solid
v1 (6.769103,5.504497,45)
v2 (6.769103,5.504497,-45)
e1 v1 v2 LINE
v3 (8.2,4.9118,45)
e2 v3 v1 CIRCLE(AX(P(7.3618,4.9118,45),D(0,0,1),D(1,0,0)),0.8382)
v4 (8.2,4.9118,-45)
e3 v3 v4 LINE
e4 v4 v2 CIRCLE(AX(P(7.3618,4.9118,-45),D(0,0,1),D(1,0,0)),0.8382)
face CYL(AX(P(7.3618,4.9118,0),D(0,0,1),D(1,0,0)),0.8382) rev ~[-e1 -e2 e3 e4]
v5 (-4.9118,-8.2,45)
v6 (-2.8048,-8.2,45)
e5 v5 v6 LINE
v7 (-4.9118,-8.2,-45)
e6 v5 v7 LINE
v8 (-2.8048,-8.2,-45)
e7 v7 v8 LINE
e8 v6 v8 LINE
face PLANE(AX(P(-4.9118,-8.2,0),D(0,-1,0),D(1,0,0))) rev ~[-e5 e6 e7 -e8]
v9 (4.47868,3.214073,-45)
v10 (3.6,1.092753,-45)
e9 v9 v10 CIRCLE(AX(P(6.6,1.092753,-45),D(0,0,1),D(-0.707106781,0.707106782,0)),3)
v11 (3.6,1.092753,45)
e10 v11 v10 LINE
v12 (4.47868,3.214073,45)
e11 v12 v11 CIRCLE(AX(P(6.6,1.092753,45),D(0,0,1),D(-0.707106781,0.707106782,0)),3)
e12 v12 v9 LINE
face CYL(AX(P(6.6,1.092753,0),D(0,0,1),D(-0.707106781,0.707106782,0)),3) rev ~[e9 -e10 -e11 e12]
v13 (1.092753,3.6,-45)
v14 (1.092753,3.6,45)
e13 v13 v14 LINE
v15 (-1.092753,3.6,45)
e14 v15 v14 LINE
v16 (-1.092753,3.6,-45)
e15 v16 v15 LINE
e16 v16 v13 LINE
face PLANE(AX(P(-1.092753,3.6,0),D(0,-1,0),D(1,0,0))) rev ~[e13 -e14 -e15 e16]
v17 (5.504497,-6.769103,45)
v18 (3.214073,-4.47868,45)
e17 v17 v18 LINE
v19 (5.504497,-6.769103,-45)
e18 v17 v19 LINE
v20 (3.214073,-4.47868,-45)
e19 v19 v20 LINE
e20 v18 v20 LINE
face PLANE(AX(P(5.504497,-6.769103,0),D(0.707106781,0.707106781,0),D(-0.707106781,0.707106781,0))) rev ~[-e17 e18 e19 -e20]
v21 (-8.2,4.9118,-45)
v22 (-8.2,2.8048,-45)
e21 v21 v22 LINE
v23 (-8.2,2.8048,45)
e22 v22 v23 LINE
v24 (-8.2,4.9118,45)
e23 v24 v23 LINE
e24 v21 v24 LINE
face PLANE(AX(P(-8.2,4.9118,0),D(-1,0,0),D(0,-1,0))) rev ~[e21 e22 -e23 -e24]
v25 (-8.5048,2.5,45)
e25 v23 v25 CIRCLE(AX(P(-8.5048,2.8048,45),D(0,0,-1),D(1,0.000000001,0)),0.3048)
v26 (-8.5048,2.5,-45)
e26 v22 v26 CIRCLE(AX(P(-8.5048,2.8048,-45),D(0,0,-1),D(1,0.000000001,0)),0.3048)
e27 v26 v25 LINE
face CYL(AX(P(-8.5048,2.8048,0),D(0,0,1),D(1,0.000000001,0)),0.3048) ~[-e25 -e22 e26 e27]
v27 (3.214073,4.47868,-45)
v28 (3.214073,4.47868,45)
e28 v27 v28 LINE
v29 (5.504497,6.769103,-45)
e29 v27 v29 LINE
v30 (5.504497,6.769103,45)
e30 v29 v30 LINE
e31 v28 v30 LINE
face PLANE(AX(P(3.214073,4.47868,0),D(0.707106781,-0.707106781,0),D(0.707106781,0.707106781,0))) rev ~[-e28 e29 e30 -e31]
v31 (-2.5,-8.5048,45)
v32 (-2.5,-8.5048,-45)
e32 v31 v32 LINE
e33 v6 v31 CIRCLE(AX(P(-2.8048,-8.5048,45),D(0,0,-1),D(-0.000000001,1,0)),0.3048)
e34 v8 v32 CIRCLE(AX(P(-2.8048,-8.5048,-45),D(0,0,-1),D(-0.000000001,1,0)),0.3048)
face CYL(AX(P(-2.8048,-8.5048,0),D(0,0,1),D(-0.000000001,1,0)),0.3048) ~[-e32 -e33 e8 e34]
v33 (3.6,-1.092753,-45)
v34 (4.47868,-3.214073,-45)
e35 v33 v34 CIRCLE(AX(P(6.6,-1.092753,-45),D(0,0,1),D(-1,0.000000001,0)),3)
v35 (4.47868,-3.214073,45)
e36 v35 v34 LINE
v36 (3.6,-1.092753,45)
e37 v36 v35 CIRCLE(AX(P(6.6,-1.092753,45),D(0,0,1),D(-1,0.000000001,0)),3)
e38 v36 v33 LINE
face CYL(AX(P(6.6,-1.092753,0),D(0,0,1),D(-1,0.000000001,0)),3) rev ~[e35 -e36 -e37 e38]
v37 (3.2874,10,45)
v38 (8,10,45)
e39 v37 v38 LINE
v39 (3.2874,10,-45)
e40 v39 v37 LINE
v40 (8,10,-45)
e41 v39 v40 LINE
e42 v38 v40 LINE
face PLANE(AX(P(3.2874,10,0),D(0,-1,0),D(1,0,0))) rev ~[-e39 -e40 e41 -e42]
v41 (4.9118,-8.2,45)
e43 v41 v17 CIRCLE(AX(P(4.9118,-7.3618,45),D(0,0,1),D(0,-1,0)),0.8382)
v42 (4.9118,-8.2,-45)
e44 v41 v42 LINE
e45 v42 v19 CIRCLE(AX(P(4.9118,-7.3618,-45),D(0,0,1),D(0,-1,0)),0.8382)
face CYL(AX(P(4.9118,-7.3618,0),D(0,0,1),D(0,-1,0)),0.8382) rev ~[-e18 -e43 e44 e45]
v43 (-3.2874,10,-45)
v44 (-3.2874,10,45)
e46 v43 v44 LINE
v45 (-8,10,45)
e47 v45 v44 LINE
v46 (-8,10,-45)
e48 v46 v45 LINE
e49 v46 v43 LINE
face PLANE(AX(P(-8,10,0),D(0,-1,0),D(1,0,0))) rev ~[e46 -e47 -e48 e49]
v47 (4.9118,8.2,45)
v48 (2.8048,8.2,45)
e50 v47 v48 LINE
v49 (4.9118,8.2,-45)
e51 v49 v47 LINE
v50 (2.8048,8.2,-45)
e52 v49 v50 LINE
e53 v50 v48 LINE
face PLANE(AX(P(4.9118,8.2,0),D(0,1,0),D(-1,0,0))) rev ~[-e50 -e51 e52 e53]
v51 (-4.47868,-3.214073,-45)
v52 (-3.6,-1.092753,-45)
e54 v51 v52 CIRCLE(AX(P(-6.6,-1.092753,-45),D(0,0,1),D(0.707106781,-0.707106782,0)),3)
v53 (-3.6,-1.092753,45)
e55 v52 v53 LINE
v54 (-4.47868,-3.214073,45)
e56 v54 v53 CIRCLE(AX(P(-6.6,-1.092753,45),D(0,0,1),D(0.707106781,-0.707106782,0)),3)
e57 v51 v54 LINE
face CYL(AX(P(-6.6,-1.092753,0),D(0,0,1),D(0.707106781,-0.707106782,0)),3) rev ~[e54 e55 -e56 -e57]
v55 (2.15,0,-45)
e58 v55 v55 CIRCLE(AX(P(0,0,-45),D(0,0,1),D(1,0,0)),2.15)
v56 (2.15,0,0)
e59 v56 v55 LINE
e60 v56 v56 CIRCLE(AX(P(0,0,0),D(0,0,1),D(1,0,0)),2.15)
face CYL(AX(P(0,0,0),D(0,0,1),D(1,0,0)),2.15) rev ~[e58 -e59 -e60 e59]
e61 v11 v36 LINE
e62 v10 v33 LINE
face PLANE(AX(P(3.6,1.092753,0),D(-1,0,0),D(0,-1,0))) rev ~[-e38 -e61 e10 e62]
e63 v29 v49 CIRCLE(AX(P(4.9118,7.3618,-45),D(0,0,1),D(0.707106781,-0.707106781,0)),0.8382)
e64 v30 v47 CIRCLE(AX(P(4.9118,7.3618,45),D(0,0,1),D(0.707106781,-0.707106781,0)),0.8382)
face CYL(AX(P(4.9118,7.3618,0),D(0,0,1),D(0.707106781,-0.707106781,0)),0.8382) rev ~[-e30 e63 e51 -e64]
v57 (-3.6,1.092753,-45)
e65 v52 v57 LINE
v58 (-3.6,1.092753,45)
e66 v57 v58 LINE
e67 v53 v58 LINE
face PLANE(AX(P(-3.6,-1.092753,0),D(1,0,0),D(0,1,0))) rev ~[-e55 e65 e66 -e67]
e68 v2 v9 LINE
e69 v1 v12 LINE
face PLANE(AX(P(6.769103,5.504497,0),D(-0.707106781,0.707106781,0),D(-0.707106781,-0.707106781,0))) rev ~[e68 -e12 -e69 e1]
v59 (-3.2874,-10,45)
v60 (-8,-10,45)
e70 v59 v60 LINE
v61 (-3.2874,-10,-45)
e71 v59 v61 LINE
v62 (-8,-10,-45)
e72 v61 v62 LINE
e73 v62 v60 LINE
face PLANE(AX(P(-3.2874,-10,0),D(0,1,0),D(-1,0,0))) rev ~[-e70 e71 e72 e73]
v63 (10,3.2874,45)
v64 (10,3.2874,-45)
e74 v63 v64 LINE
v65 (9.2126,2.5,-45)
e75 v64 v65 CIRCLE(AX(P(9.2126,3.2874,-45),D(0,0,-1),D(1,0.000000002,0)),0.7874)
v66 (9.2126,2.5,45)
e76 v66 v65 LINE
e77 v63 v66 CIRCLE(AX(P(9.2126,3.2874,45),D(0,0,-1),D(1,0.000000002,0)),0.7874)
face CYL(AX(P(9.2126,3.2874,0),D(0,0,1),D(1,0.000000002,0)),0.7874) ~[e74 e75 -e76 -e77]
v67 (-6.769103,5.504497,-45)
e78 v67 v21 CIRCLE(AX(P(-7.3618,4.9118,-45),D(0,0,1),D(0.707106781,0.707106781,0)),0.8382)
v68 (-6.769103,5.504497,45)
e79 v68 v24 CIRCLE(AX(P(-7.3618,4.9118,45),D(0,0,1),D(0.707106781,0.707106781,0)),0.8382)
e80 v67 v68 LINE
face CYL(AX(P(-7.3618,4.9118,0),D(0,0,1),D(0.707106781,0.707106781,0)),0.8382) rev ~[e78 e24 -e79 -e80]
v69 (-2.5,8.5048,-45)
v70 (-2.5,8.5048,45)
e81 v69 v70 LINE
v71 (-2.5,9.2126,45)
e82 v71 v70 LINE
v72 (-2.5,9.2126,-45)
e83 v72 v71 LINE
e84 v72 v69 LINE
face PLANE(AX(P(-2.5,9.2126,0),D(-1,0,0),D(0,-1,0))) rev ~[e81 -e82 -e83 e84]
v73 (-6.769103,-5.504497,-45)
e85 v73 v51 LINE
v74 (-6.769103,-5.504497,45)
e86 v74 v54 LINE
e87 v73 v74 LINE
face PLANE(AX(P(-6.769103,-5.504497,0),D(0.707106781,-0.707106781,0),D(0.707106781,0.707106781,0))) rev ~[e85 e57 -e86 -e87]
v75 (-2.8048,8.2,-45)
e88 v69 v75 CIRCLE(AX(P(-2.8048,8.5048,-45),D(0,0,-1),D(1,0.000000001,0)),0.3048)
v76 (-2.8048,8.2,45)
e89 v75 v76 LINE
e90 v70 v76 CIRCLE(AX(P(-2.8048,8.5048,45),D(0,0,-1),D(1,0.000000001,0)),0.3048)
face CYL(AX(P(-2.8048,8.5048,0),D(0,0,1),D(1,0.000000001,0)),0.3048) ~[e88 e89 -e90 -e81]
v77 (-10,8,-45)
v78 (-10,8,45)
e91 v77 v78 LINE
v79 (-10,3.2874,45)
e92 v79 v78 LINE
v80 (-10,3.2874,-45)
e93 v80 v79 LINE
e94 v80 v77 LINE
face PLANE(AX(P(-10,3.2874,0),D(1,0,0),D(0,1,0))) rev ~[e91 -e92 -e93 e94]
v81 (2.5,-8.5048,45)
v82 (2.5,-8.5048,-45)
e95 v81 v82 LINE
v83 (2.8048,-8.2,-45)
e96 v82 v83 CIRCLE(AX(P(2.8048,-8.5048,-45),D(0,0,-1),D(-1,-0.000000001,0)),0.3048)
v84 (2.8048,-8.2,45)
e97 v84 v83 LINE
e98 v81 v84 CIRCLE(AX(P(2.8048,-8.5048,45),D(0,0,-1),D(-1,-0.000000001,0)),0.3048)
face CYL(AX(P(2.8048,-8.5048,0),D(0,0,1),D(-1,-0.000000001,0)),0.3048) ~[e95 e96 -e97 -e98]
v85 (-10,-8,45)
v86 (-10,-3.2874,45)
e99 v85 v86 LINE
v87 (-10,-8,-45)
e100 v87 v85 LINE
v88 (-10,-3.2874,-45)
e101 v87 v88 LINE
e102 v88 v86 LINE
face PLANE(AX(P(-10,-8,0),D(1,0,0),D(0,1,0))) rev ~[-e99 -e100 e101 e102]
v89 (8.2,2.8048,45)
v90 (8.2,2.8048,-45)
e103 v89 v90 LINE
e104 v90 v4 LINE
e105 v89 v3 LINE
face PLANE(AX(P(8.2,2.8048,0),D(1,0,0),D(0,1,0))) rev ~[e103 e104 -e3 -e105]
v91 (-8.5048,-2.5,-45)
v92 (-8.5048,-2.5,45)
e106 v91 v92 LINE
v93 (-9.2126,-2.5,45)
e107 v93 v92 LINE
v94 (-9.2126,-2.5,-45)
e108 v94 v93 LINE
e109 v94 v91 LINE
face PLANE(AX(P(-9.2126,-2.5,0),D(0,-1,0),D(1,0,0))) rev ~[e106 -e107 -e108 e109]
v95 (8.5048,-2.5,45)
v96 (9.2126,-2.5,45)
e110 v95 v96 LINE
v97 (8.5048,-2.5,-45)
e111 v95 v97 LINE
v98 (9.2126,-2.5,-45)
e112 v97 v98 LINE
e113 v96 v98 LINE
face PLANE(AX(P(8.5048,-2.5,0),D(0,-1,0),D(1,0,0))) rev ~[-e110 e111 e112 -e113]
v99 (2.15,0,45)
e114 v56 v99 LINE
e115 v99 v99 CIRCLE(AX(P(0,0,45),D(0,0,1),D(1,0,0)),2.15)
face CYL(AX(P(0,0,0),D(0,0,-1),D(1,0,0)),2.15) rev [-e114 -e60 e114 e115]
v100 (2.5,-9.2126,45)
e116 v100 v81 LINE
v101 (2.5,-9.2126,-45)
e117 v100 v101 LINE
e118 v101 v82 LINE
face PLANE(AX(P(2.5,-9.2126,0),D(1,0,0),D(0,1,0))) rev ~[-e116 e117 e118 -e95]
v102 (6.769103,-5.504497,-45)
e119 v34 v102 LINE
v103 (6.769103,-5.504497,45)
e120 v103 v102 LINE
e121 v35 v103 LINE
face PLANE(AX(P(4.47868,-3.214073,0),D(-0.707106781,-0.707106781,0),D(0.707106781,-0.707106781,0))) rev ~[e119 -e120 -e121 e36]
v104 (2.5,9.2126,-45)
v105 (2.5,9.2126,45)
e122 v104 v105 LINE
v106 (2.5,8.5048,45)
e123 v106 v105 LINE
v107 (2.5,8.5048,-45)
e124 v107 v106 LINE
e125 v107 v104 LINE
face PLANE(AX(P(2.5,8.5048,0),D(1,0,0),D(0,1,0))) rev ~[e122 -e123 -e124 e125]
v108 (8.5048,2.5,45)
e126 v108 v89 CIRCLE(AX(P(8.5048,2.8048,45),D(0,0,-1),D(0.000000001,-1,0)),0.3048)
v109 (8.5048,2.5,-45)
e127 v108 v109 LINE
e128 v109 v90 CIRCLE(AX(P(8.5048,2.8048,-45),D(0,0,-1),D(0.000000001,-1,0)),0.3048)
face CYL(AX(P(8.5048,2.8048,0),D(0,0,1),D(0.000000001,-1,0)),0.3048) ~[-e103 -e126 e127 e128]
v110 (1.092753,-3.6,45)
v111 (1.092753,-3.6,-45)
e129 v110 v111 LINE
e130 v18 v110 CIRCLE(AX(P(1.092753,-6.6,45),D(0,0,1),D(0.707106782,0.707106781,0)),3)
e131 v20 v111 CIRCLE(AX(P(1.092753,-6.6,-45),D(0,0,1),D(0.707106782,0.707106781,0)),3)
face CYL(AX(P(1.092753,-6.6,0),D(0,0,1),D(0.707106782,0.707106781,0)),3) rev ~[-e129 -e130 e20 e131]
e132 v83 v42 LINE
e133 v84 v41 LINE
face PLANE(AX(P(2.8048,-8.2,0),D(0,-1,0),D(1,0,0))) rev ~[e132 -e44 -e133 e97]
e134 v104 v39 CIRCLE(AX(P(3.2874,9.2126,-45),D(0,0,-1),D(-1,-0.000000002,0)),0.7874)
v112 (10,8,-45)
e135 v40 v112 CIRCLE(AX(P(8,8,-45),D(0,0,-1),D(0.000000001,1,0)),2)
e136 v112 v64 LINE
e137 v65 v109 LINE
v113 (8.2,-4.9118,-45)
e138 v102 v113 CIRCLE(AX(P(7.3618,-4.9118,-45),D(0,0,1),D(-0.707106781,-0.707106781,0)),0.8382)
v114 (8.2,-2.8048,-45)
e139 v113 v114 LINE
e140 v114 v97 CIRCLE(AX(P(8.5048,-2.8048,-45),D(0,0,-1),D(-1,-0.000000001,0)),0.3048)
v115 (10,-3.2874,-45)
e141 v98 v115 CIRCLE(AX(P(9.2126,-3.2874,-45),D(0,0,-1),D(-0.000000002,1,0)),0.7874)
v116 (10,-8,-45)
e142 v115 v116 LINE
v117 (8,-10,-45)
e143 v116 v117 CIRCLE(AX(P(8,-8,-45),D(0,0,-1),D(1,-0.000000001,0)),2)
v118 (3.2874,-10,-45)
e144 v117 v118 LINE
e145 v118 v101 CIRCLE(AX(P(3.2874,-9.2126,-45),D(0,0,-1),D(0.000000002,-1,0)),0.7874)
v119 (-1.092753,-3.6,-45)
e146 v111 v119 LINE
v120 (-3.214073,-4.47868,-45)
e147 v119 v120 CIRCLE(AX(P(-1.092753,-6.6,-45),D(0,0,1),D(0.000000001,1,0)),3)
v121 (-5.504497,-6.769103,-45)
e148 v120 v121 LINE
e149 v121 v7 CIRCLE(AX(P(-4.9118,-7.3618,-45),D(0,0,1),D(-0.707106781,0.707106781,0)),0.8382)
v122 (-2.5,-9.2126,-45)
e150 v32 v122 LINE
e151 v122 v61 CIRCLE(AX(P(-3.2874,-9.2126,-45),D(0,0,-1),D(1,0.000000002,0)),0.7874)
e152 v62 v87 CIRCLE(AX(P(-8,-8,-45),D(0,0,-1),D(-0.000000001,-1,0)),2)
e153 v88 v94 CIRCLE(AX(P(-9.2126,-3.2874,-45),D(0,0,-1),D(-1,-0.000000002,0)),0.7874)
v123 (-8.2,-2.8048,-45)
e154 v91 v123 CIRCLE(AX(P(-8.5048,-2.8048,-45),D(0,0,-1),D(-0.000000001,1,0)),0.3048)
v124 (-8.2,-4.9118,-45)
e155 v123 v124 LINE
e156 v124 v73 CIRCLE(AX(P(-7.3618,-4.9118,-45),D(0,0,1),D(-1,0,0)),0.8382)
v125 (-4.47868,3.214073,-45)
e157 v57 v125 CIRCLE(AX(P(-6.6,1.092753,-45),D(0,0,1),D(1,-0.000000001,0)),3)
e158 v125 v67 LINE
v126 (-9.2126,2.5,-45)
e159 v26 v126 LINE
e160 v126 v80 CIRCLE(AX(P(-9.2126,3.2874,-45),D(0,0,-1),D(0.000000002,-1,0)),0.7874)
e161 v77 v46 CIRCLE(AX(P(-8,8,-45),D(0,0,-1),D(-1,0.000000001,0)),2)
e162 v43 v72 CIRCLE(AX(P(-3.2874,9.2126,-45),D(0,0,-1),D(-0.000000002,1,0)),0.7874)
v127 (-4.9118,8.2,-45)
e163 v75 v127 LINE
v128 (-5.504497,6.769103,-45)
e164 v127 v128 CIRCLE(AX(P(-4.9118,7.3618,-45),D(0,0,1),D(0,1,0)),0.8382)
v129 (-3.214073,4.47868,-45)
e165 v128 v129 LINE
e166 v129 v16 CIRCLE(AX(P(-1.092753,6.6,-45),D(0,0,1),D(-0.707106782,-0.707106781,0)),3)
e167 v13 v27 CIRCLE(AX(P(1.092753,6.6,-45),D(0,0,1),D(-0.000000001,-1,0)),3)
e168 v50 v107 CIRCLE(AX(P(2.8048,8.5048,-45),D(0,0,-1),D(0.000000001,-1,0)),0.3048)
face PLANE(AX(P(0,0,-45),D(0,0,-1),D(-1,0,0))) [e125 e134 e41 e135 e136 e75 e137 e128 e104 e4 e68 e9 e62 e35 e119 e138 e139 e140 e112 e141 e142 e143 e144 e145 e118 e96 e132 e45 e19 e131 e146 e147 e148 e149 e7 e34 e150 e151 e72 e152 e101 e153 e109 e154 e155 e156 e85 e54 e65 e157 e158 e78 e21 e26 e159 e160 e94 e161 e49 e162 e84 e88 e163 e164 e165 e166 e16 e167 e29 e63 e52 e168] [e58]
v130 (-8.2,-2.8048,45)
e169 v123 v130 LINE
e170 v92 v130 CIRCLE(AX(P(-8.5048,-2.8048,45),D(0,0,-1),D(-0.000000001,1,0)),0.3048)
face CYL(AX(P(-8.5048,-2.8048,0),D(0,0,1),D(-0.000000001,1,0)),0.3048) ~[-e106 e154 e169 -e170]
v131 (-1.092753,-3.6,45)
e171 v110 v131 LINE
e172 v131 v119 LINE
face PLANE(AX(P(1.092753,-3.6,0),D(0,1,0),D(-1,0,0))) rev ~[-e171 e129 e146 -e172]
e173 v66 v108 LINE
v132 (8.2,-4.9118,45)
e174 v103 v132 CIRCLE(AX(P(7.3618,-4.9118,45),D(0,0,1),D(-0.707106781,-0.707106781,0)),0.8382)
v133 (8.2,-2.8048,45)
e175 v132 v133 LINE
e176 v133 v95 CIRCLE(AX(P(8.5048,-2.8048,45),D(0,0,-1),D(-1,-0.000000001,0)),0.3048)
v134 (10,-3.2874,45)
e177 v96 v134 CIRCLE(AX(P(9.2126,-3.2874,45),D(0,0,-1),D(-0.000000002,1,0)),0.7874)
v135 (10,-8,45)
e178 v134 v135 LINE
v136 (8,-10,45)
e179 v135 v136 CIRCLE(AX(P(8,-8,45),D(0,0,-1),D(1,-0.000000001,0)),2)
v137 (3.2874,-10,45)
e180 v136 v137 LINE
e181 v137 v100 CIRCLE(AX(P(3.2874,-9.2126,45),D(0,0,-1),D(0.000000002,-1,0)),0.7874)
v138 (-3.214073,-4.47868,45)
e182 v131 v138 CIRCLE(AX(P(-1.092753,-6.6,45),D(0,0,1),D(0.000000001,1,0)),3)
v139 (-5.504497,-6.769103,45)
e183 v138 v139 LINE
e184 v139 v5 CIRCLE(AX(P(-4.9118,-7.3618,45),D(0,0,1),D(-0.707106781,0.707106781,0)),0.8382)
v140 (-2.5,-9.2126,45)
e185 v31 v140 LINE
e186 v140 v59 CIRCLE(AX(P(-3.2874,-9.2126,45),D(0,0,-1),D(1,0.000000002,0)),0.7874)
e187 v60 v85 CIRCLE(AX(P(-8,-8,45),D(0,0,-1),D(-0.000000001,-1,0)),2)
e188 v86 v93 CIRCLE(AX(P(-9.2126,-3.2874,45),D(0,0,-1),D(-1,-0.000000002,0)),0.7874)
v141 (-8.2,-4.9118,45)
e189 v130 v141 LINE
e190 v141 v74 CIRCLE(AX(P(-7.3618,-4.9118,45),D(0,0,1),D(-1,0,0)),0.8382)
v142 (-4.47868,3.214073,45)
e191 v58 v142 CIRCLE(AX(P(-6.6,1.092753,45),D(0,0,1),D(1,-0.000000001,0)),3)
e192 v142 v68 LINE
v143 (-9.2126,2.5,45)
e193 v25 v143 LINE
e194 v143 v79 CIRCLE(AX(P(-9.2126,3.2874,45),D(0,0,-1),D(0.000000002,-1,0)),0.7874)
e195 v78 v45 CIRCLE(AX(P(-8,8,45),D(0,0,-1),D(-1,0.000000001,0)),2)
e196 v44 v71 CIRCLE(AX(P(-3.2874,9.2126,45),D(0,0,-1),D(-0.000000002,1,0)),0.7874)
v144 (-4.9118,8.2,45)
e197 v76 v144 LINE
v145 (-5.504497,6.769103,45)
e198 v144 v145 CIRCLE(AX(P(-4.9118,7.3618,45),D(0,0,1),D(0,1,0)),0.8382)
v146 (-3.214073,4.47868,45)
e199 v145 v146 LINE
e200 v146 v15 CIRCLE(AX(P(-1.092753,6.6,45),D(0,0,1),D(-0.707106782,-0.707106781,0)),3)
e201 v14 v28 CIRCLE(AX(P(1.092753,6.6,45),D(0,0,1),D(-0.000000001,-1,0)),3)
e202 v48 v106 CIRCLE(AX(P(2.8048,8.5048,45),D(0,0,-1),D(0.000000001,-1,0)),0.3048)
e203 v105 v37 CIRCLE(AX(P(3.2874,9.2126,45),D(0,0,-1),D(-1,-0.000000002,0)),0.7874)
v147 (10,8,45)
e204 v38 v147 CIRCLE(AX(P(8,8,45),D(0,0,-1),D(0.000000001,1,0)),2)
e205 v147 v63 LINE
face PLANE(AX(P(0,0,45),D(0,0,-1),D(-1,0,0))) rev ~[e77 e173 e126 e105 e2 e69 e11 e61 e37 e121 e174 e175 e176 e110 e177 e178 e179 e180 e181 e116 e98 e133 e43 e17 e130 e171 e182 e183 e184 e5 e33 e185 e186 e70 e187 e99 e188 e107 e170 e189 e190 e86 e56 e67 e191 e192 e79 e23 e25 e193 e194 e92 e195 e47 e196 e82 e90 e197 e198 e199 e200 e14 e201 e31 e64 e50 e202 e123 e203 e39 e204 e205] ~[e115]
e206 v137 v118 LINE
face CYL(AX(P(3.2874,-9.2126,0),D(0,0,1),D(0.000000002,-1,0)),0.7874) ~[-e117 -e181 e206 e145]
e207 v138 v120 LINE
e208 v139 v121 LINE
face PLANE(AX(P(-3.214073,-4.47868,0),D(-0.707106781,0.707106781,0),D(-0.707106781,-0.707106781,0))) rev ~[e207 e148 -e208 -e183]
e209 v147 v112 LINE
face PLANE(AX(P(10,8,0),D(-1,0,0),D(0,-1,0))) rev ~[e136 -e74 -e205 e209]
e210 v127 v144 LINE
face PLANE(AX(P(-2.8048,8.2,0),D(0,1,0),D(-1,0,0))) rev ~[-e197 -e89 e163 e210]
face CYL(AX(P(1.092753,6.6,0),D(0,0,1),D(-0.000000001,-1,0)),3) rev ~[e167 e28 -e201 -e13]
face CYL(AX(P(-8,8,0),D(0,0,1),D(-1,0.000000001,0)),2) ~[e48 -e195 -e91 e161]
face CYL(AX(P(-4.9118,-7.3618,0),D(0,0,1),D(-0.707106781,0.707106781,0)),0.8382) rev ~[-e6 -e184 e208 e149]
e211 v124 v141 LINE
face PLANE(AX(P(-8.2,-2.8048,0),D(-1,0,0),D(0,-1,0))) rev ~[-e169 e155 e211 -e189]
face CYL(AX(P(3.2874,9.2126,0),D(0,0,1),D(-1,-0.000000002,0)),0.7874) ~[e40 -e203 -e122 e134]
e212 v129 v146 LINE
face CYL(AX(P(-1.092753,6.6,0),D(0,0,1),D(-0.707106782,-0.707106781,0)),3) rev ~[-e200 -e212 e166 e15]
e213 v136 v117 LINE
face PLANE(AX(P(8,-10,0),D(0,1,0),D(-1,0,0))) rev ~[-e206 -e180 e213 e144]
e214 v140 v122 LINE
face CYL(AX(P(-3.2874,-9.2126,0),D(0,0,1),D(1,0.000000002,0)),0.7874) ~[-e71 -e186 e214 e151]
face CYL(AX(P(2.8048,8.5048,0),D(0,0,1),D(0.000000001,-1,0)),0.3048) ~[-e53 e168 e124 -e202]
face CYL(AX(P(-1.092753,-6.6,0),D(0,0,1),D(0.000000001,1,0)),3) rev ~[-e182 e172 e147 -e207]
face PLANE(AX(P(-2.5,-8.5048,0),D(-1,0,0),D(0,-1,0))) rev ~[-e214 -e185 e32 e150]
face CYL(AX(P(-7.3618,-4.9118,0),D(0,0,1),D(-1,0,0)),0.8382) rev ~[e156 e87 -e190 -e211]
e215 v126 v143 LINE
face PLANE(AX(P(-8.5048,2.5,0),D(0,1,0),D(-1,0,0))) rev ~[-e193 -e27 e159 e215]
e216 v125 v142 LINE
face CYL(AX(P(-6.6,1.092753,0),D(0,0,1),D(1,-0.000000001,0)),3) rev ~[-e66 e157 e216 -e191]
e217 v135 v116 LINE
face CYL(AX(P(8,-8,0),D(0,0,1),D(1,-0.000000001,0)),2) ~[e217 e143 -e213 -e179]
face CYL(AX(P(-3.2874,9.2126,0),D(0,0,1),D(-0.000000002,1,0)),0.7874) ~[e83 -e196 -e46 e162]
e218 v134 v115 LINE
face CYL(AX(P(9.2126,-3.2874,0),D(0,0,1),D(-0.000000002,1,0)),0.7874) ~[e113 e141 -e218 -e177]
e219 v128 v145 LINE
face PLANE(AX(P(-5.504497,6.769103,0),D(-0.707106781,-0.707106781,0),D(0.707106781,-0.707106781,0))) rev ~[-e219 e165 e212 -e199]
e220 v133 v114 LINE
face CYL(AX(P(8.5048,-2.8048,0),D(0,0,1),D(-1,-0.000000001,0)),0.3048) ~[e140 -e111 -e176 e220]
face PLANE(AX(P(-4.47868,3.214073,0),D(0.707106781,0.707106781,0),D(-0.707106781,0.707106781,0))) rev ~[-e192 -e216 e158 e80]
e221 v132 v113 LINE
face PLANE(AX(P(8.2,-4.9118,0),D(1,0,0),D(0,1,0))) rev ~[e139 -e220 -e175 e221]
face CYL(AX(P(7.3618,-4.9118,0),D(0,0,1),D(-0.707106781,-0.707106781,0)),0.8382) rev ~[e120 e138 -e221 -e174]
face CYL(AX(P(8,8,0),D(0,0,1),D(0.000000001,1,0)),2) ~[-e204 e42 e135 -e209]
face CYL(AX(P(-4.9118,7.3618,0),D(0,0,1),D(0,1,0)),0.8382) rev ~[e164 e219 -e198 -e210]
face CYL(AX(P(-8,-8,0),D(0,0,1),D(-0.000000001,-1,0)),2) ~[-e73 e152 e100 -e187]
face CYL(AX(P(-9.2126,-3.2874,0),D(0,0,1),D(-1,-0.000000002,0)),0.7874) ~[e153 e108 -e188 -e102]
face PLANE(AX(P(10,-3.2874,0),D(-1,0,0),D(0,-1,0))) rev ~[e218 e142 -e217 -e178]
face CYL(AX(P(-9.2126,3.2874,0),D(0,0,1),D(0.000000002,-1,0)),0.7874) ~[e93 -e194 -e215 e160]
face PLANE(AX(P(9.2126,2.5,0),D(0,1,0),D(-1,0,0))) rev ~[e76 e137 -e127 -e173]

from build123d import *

# Parameters (mm, degrees)
SKETCH3_R                = 2.15
BOSS_EXTRUDE1_DEPTH      = 45
BOSS_EXTRUDE1_DEPTH_BACK = 45


with BuildPart() as part:
    # Sketch3 → Boss-Extrude1 (new body, two sides)
    with BuildSketch(Plane.XY) as boss_extrude1_sk:
        with BuildLine():
            Line((3.2874, 10), (8, 10))
            ThreePointArc((8, 10), (9.414213562, 9.414213562), (10, 8))
            Line((10, 8), (10, 3.2874))
            ThreePointArc((10, 3.2874), (9.76937588, 2.73062412), (9.2126, 2.5))
            Line((9.2126, 2.5), (8.5048, 2.5))
            ThreePointArc((8.5048, 2.5), (8.289273853, 2.589273853), (8.2, 2.8048))
            Line((8.2, 2.8048), (8.2, 4.9118))
            ThreePointArc((8.2, 4.9118), (7.682565253, 5.686195824), (6.769103096, 5.504496904))
            Line((6.769103096, 5.504496904), (4.478679656, 3.214073464))
            ThreePointArc((4.478679656, 3.214073464), (3.828361402, 2.240803418), (3.6, 1.092753121))
            Line((3.6, 1.092753121), (3.6, -1.092753121))
            ThreePointArc((3.6, -1.092753121), (3.828361402, -2.240803418), (4.478679656, -3.214073464))
            Line((4.478679656, -3.214073464), (6.769103096, -5.504496904))
            ThreePointArc((6.769103096, -5.504496904), (7.682565253, -5.686195824), (8.2, -4.9118))
            Line((8.2, -4.9118), (8.2, -2.8048))
            ThreePointArc((8.2, -2.8048), (8.289273853, -2.589273853), (8.5048, -2.5))
            Line((8.5048, -2.5), (9.2126, -2.5))
            ThreePointArc((9.2126, -2.5), (9.76937588, -2.73062412), (10, -3.2874))
            Line((10, -3.2874), (10, -8))
            ThreePointArc((10, -8), (9.414213562, -9.414213562), (8, -10))
            Line((8, -10), (3.2874, -10))
            ThreePointArc((3.2874, -10), (2.73062412, -9.76937588), (2.5, -9.2126))
            Line((2.5, -9.2126), (2.5, -8.5048))
            ThreePointArc((2.5, -8.5048), (2.589273853, -8.289273853), (2.8048, -8.2))
            Line((2.8048, -8.2), (4.9118, -8.2))
            ThreePointArc((4.9118, -8.2), (5.686195824, -7.682565253), (5.504496904, -6.769103096))
            Line((5.504496904, -6.769103096), (3.214073464, -4.478679656))
            ThreePointArc((3.214073464, -4.478679656), (2.240803418, -3.828361402), (1.092753121, -3.6))
            Line((1.092753121, -3.6), (-1.092753121, -3.6))
            ThreePointArc((-1.092753121, -3.6), (-2.240803418, -3.828361402), (-3.214073464, -4.478679656))
            Line((-3.214073464, -4.478679656), (-5.504496904, -6.769103096))
            ThreePointArc((-5.504496904, -6.769103096), (-5.686195824, -7.682565253), (-4.9118, -8.2))
            Line((-4.9118, -8.2), (-2.8048, -8.2))
            ThreePointArc((-2.8048, -8.2), (-2.589273853, -8.289273853), (-2.5, -8.5048))
            Line((-2.5, -8.5048), (-2.5, -9.2126))
            ThreePointArc((-2.5, -9.2126), (-2.73062412, -9.76937588), (-3.2874, -10))
            Line((-3.2874, -10), (-8, -10))
            ThreePointArc((-8, -10), (-9.414213562, -9.414213562), (-10, -8))
            Line((-10, -8), (-10, -3.2874))
            ThreePointArc((-10, -3.2874), (-9.76937588, -2.73062412), (-9.2126, -2.5))
            Line((-9.2126, -2.5), (-8.5048, -2.5))
            ThreePointArc((-8.5048, -2.5), (-8.289273853, -2.589273853), (-8.2, -2.8048))
            Line((-8.2, -2.8048), (-8.2, -4.9118))
            ThreePointArc((-8.2, -4.9118), (-7.682565253, -5.686195824), (-6.769103096, -5.504496904))
            Line((-6.769103096, -5.504496904), (-4.478679656, -3.214073464))
            ThreePointArc((-4.478679656, -3.214073464), (-3.828361402, -2.240803418), (-3.6, -1.092753121))
            Line((-3.6, -1.092753121), (-3.6, 1.092753121))
            ThreePointArc((-3.6, 1.092753121), (-3.828361402, 2.240803418), (-4.478679656, 3.214073464))
            Line((-4.478679656, 3.214073464), (-6.769103096, 5.504496904))
            ThreePointArc((-6.769103096, 5.504496904), (-7.682565253, 5.686195824), (-8.2, 4.9118))
            Line((-8.2, 4.9118), (-8.2, 2.8048))
            ThreePointArc((-8.2, 2.8048), (-8.289273853, 2.589273853), (-8.5048, 2.5))
            Line((-8.5048, 2.5), (-9.2126, 2.5))
            ThreePointArc((-9.2126, 2.5), (-9.76937588, 2.73062412), (-10, 3.2874))
            Line((-10, 3.2874), (-10, 8))
            ThreePointArc((-10, 8), (-9.414213562, 9.414213562), (-8, 10))
            Line((-8, 10), (-3.2874, 10))
            ThreePointArc((-3.2874, 10), (-2.73062412, 9.76937588), (-2.5, 9.2126))
            Line((-2.5, 9.2126), (-2.5, 8.5048))
            ThreePointArc((-2.5, 8.5048), (-2.589273853, 8.289273853), (-2.8048, 8.2))
            Line((-2.8048, 8.2), (-4.9118, 8.2))
            ThreePointArc((-4.9118, 8.2), (-5.686195824, 7.682565253), (-5.504496904, 6.769103096))
            Line((-5.504496904, 6.769103096), (-3.214073464, 4.478679656))
            ThreePointArc((-3.214073464, 4.478679656), (-2.240803418, 3.828361402), (-1.092753121, 3.6))
            Line((-1.092753121, 3.6), (1.092753121, 3.6))
            ThreePointArc((1.092753121, 3.6), (2.240803418, 3.828361402), (3.214073464, 4.478679656))
            Line((3.214073464, 4.478679656), (5.504496904, 6.769103096))
            ThreePointArc((5.504496904, 6.769103096), (5.686195824, 7.682565253), (4.9118, 8.2))
            Line((4.9118, 8.2), (2.8048, 8.2))
            ThreePointArc((2.8048, 8.2), (2.589273853, 8.289273853), (2.5, 8.5048))
            Line((2.5, 8.5048), (2.5, 9.2126))
            ThreePointArc((2.5, 9.2126), (2.73062412, 9.76937588), (3.2874, 10))
        make_face()
        Circle(SKETCH3_R, mode=Mode.SUBTRACT)
    extrude(amount=BOSS_EXTRUDE1_DEPTH)
    extrude(boss_extrude1_sk.sketch, amount=-BOSS_EXTRUDE1_DEPTH_BACK)


solid = part.part
